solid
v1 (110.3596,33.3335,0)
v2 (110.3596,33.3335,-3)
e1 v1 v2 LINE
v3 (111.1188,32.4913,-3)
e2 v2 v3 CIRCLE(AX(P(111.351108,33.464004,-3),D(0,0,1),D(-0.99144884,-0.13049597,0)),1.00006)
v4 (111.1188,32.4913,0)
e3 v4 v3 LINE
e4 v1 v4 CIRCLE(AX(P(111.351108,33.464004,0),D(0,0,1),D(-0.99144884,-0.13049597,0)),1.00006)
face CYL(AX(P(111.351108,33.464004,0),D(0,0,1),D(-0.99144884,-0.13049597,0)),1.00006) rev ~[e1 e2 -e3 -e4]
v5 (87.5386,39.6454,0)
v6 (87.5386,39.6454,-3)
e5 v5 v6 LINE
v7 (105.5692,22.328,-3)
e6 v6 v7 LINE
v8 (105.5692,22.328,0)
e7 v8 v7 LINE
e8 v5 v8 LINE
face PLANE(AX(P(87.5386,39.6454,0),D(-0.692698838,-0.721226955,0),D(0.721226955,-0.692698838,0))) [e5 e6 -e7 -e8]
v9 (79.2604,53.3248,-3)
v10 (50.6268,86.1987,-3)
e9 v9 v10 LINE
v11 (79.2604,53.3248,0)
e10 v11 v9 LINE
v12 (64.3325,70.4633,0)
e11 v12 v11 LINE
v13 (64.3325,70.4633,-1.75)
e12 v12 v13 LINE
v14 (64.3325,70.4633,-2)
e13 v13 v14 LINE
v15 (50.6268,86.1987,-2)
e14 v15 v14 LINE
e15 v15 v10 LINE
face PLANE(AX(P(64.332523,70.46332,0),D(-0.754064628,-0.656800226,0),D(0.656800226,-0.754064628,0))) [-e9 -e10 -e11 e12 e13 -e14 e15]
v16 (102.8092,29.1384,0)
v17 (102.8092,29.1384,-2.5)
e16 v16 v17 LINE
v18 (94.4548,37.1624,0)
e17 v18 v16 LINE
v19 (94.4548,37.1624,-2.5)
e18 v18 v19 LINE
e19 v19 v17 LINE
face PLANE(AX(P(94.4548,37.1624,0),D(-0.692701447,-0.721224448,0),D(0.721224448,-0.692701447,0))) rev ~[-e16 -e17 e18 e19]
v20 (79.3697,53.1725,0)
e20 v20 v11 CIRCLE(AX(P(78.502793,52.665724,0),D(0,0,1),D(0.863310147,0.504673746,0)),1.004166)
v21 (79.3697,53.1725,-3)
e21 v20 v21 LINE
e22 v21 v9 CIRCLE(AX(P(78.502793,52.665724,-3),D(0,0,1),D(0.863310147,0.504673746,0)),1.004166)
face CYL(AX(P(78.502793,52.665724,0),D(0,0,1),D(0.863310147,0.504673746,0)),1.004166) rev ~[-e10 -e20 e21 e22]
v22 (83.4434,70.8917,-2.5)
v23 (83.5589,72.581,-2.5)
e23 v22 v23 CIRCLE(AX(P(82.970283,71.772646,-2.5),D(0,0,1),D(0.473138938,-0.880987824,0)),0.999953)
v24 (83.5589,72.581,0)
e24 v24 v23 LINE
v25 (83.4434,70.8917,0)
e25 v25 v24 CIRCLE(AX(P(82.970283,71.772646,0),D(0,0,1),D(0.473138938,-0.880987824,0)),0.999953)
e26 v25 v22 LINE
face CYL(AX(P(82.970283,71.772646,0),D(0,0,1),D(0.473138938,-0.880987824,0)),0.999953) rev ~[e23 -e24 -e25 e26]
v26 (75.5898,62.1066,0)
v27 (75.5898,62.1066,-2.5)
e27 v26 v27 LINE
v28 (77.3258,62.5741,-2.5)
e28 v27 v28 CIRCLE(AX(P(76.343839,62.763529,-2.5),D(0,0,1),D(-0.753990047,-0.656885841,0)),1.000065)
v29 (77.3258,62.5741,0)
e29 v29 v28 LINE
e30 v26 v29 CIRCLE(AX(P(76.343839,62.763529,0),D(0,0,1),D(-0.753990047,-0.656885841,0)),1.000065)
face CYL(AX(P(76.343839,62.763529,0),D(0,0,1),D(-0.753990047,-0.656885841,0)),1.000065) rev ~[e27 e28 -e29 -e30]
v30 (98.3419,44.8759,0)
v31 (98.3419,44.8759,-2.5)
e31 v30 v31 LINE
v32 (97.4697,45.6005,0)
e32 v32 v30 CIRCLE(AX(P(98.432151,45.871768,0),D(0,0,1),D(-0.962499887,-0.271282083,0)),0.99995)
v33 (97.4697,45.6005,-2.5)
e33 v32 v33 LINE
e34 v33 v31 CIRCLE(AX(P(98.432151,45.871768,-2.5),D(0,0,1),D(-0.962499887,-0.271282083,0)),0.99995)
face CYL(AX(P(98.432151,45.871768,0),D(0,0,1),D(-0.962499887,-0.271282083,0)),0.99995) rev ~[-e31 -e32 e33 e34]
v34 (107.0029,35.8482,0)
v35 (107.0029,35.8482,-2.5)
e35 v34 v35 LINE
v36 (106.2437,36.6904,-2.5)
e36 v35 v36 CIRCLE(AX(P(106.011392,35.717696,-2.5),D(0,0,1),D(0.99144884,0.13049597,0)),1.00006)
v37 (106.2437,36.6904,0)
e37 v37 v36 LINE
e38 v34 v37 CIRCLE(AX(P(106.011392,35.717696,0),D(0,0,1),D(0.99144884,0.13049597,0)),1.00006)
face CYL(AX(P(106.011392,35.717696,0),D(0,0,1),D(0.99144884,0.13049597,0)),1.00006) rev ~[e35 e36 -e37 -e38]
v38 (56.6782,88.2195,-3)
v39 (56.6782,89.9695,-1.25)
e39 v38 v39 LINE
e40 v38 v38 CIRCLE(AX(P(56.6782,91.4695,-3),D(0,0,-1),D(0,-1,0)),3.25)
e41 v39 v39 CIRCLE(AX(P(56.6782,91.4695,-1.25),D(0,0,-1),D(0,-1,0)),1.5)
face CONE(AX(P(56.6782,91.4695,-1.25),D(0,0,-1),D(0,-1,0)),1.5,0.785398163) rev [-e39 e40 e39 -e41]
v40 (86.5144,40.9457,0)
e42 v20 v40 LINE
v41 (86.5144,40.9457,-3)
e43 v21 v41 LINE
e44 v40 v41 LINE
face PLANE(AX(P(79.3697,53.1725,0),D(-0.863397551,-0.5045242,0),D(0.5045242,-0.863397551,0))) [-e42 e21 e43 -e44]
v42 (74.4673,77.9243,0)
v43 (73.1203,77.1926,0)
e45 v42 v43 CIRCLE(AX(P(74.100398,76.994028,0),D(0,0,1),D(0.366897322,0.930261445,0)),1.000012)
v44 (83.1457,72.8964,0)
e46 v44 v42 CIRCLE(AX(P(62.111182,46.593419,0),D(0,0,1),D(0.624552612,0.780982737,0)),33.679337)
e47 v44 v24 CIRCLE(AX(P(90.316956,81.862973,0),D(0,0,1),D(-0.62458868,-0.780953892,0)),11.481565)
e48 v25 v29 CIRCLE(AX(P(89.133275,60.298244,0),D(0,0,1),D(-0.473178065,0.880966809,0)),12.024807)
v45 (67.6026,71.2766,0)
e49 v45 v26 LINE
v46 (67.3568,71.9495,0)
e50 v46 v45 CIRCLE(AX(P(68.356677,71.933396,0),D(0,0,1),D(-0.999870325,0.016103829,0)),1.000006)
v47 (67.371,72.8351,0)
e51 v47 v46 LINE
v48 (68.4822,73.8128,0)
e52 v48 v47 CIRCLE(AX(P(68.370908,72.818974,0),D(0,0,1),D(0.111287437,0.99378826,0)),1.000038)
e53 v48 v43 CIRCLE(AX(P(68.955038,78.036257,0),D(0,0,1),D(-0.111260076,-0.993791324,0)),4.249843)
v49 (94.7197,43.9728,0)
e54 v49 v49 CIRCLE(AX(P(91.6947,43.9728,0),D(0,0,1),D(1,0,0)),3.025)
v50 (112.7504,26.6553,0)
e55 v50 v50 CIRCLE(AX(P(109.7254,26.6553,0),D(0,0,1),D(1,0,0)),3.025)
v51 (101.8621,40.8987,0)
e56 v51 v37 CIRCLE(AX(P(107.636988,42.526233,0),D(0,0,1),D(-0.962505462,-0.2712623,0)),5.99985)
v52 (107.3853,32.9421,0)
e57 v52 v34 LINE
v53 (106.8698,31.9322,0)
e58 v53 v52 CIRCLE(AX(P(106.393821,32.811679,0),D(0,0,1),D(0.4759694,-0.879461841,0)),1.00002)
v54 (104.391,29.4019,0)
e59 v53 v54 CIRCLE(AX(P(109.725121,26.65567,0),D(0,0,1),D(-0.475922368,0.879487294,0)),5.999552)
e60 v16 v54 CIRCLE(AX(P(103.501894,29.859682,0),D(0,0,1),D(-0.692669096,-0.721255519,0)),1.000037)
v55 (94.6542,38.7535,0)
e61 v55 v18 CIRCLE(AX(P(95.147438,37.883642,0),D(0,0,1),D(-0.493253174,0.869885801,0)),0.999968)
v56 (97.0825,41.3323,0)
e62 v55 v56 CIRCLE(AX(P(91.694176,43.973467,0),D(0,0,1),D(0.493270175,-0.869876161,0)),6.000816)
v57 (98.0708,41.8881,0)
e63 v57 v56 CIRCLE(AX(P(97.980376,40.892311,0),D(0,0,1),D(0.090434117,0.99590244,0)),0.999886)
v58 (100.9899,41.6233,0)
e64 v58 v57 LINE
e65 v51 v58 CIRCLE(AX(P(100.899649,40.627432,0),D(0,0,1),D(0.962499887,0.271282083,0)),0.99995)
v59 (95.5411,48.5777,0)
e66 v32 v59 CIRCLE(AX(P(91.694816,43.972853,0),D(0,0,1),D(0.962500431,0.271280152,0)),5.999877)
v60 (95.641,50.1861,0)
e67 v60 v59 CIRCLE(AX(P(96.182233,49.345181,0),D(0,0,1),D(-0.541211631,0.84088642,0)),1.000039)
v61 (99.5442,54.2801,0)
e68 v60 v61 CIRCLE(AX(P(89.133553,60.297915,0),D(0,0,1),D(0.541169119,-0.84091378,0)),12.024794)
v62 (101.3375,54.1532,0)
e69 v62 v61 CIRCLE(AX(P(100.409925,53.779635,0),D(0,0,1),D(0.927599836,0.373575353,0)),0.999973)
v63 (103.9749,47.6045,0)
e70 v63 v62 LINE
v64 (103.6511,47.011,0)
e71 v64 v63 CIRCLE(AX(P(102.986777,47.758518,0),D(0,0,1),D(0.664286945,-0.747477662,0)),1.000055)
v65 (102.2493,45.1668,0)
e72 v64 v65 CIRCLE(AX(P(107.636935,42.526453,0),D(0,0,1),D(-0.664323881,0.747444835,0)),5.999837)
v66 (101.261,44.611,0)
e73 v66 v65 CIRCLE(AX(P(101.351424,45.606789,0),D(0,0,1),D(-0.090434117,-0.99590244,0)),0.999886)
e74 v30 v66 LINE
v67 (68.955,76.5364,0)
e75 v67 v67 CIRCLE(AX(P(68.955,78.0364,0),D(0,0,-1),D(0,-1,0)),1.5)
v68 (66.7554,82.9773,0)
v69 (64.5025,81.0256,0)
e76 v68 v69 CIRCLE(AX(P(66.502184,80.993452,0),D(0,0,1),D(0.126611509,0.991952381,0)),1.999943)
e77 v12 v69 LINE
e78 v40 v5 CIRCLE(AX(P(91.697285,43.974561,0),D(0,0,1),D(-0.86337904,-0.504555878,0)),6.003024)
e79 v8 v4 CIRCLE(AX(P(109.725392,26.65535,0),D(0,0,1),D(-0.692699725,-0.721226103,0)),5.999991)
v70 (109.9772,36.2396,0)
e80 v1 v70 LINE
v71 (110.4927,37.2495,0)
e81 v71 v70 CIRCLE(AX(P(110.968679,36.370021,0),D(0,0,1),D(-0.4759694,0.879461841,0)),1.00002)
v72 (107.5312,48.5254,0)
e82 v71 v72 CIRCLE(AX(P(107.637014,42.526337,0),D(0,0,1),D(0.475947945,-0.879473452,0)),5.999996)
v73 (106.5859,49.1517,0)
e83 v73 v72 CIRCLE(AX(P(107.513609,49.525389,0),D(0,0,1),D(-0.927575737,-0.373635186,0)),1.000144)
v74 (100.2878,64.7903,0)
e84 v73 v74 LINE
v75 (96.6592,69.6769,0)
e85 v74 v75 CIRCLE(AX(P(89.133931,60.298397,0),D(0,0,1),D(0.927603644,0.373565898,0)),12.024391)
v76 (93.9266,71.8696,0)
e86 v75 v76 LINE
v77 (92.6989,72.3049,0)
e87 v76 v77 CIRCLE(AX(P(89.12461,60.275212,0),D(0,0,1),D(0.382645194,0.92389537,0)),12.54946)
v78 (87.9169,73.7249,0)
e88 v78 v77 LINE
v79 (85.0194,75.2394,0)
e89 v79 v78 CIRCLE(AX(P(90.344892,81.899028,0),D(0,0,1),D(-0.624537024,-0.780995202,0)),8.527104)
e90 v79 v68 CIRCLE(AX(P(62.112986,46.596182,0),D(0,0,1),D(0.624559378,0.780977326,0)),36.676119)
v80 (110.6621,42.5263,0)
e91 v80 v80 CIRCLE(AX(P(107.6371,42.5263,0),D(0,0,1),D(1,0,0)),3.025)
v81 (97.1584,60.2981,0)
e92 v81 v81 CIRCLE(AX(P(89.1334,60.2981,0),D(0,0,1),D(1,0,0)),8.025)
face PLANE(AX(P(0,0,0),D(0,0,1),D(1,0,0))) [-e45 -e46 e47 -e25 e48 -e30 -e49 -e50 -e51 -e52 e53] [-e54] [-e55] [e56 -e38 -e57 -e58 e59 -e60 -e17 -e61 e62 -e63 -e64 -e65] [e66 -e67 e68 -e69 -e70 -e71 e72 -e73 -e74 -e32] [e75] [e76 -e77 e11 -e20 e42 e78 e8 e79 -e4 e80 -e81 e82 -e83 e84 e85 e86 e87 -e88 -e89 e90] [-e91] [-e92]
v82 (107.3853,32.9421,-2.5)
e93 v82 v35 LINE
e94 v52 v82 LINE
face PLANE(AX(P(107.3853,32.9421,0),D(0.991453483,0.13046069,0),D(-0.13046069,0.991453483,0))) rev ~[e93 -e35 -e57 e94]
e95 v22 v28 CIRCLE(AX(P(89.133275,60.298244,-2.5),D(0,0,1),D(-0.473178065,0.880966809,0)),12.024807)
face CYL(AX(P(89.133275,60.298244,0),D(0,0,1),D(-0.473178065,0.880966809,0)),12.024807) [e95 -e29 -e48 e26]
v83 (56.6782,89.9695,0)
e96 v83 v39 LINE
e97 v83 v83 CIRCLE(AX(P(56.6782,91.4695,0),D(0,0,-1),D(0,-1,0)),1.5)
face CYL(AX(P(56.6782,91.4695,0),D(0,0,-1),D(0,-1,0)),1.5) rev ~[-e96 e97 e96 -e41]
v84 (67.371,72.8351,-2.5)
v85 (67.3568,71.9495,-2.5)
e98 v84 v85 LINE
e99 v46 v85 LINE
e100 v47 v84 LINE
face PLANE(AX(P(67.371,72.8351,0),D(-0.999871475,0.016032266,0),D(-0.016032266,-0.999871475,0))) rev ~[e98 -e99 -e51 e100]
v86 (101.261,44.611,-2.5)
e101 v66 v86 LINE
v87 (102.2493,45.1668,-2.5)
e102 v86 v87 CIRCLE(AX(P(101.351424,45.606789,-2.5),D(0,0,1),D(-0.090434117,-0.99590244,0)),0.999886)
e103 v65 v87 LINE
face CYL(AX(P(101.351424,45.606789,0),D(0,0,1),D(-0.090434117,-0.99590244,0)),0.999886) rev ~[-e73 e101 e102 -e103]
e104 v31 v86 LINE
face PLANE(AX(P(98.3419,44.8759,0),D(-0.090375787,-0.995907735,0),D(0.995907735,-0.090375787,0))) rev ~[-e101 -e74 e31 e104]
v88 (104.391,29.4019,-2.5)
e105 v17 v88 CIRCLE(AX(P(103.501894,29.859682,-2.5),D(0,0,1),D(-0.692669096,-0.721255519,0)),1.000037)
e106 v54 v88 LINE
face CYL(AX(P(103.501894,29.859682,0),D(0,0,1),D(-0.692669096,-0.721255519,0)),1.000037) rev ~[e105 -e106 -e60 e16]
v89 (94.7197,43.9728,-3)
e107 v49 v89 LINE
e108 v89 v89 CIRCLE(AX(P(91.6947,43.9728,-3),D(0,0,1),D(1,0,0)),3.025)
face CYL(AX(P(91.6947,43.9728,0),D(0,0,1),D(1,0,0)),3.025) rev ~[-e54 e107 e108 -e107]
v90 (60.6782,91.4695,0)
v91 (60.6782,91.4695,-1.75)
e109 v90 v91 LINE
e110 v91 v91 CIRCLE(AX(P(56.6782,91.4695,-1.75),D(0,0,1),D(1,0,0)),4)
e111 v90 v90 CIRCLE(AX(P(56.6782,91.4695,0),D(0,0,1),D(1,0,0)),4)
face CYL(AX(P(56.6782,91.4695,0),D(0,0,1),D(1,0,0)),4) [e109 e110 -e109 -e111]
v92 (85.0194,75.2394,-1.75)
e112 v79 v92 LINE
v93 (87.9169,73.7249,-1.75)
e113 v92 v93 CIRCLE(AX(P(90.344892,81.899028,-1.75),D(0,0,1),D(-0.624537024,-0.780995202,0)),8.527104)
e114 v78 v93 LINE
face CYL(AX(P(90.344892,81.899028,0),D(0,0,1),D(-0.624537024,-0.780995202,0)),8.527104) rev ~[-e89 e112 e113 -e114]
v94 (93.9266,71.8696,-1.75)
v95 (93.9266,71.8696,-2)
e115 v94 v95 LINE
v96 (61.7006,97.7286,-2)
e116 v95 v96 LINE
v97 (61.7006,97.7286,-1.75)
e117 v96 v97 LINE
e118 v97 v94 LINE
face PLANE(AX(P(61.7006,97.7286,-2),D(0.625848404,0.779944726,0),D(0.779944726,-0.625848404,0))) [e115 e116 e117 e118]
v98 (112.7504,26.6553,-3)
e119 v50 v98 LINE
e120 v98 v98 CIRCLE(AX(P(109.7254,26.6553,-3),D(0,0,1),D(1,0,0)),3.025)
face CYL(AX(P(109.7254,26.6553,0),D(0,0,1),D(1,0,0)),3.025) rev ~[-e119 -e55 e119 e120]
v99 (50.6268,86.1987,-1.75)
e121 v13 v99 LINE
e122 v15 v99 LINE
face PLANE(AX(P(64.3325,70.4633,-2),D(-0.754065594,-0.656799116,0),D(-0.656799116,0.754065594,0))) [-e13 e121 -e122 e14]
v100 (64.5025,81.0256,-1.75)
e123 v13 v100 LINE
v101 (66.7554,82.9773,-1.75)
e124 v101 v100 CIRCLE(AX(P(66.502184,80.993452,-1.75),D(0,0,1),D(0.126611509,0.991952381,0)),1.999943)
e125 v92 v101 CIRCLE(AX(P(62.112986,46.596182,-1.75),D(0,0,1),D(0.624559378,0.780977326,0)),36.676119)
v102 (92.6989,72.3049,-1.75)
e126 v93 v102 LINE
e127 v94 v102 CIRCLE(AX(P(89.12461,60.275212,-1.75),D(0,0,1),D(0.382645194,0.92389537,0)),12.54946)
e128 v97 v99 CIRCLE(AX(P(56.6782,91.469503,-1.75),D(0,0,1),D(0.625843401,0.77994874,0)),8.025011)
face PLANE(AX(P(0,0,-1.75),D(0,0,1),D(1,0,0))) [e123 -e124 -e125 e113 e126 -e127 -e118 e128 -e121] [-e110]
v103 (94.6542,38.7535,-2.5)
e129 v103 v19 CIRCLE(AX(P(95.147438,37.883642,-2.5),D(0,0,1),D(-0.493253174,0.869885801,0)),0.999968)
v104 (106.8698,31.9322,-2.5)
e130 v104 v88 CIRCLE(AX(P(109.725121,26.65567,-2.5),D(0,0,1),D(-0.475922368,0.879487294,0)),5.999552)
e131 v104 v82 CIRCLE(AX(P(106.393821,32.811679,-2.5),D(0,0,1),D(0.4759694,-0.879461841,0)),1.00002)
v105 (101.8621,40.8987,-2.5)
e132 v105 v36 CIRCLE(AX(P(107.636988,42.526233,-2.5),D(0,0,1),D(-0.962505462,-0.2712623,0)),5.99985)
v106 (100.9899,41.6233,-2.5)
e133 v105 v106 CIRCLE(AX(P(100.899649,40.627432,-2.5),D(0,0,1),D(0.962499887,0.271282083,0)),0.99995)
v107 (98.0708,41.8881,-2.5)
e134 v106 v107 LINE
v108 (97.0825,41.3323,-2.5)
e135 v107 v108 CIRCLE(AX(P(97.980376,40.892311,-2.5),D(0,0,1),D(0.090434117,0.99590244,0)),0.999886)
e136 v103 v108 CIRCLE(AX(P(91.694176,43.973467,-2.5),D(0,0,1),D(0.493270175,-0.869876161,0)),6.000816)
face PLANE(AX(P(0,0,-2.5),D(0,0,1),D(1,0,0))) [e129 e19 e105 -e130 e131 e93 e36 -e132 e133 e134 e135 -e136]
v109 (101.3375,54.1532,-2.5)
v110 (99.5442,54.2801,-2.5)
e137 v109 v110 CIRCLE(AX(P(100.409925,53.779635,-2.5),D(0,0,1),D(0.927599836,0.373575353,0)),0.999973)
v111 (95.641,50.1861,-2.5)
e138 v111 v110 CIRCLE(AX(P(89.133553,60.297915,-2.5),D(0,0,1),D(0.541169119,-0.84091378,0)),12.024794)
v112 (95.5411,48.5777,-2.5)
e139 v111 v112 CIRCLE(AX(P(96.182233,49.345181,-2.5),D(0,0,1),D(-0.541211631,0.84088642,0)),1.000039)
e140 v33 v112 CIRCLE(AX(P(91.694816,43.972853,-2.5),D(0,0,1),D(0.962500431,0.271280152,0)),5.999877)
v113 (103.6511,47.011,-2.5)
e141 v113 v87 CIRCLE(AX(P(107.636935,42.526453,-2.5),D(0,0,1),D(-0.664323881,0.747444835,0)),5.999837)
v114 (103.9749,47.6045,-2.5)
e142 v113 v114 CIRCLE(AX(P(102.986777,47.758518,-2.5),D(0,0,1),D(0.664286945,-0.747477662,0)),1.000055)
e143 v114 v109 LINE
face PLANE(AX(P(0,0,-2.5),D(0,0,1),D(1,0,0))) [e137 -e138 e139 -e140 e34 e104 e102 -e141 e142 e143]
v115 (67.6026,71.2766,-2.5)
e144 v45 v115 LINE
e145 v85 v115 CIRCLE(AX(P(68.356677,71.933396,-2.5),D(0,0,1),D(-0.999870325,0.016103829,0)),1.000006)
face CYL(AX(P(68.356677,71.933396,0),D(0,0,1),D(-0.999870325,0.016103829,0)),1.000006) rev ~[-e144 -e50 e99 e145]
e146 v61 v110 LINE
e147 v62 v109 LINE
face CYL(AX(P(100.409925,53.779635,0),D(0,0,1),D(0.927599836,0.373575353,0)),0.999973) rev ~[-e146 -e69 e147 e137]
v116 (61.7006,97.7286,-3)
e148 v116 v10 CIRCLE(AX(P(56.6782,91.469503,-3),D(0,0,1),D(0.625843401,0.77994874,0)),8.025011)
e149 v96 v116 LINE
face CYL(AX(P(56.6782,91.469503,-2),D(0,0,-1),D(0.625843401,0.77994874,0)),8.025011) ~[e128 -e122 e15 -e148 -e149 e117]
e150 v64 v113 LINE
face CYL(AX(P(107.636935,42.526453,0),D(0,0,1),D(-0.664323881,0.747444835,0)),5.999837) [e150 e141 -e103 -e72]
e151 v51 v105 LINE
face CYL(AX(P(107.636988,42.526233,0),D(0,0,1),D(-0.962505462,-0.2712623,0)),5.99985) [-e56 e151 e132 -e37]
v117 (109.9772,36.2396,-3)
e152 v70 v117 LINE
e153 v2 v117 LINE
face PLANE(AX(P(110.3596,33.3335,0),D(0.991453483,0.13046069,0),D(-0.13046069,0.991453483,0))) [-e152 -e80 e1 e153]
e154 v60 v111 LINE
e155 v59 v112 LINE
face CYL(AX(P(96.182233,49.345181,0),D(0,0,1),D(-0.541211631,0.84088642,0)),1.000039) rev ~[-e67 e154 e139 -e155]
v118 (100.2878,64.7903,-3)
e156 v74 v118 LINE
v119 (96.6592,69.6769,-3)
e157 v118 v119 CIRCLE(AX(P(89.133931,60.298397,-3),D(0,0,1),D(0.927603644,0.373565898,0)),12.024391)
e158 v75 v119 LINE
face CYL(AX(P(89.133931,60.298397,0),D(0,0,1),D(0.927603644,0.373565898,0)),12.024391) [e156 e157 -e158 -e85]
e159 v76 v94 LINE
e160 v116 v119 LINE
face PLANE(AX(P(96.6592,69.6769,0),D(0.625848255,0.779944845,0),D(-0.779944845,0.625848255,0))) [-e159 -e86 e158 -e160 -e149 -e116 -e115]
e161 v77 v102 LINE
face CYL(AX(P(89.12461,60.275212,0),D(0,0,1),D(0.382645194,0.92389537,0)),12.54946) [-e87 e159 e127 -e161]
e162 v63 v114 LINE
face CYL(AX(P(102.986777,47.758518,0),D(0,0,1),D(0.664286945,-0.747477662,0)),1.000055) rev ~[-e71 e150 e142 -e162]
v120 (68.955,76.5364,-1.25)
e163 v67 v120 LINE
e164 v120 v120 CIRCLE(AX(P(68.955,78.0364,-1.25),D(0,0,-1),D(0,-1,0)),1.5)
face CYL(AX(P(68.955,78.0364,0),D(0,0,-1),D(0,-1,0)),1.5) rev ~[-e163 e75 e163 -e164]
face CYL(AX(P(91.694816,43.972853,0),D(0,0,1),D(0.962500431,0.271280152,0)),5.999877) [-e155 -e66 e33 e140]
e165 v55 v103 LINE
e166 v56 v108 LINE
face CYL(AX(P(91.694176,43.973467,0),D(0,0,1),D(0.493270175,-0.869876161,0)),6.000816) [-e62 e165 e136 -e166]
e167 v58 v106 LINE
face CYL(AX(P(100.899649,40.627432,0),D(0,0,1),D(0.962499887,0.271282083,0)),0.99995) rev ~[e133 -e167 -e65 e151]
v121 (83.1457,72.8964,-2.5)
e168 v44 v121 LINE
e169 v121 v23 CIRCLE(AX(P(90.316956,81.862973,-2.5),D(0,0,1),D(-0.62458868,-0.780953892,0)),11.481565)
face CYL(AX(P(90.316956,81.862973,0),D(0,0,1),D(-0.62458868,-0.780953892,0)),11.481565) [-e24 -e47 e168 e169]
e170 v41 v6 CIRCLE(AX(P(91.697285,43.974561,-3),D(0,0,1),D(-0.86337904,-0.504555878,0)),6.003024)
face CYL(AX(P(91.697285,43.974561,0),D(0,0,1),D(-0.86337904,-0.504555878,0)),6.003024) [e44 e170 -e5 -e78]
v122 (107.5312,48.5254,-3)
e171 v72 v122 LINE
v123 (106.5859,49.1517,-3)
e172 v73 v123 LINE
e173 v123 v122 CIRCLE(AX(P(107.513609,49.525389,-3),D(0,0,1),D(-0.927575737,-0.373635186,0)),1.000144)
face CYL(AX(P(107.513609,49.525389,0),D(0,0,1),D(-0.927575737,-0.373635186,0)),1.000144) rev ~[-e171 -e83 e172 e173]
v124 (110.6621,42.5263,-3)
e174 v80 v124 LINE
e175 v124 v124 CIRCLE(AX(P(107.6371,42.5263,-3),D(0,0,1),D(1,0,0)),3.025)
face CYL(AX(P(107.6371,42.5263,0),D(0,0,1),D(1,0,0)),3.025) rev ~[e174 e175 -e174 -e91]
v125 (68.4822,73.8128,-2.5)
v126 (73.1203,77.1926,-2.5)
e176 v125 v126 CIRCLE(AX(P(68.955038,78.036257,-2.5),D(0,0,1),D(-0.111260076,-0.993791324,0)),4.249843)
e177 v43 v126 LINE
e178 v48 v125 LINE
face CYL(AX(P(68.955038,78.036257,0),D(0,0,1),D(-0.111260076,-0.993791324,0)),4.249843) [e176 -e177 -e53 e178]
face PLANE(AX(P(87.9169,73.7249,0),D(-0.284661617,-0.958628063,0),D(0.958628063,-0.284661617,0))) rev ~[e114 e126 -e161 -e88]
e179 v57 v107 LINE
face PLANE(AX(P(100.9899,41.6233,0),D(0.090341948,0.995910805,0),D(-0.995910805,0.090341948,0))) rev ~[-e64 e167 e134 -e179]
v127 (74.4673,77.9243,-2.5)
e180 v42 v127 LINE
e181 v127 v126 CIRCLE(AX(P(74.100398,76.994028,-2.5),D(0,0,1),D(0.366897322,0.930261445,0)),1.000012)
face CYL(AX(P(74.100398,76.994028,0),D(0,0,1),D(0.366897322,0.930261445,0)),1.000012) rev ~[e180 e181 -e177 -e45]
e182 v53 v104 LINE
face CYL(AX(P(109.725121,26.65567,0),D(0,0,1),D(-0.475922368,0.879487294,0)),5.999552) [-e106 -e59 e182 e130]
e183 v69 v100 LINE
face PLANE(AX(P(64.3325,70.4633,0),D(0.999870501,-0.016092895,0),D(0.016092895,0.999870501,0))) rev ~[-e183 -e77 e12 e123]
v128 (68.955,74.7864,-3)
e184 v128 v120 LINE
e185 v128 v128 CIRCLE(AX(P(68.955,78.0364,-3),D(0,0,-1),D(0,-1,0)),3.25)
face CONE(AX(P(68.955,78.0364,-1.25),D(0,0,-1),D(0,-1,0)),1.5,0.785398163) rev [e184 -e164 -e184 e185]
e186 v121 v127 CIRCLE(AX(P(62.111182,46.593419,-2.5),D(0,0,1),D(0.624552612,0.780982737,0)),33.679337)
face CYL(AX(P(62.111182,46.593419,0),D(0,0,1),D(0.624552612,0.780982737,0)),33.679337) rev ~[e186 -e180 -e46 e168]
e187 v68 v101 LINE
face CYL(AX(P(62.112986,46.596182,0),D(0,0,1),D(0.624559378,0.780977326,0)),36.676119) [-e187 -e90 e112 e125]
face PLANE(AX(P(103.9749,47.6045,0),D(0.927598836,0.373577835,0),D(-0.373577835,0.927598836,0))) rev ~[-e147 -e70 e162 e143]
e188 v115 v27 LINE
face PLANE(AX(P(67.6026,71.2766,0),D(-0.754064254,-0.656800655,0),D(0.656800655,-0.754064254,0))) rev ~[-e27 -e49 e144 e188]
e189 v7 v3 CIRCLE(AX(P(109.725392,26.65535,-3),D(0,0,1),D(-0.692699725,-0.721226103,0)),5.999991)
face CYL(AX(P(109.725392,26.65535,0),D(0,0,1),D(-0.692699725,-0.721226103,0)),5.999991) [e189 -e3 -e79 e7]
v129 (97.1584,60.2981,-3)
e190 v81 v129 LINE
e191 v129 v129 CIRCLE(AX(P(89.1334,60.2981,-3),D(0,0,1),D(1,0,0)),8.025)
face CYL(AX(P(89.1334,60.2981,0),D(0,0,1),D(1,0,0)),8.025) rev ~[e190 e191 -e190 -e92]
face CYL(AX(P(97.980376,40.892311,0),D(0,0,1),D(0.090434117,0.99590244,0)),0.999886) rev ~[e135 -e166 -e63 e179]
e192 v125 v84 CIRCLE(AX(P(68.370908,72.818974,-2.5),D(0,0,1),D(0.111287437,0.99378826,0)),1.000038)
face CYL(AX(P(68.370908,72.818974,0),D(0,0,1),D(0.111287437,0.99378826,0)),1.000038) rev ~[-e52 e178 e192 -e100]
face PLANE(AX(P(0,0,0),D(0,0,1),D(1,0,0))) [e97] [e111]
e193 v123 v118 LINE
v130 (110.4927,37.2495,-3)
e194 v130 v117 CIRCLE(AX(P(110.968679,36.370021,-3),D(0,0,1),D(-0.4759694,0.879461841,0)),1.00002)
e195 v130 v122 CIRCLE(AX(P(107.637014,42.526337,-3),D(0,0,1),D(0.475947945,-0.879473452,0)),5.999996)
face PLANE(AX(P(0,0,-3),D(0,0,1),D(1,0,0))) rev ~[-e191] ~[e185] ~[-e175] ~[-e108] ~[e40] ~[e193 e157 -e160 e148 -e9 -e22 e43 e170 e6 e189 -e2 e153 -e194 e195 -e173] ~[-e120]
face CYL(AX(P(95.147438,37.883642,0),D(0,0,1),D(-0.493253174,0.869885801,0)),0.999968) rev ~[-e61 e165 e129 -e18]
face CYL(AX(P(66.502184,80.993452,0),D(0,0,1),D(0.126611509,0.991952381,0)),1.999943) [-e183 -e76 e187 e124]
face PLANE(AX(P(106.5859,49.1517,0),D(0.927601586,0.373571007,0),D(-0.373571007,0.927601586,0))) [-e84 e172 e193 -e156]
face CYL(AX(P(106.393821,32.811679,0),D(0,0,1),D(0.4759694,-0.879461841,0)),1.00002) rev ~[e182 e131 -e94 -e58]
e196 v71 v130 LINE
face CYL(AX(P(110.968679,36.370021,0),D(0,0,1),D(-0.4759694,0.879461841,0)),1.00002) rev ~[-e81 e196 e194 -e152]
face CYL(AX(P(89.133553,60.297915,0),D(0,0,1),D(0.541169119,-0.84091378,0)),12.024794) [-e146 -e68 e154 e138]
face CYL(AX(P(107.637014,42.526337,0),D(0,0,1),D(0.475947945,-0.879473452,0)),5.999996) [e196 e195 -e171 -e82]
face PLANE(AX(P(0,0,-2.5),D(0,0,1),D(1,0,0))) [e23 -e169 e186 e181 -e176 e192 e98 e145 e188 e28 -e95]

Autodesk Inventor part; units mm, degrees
ref_plane "YZ Plane" through (0, 0, 0) normal (1, 0, 0) x (0, 1, 0)
ref_plane "XZ Plane" through (0, 0, 0) normal (0, 1, 0) x (-1, 0, 0)
ref_plane "XY Plane" through (0, 0, 0) normal (0, 0, 1) x (1, 0, 0)
sketch "スケッチ1" plane through (0, 0, 0) normal (0, 0, 1) x (1, 0, 0)
  circle A0 centre (89.1334, 60.2981) radius 8.025
  arc A1 (110.4927, 37.2495) -> (107.5312, 48.5254) centre (107.6371, 42.5263) ccw
  arc A2 (106.5859, 49.1517) -> (107.5312, 48.5254) centre (107.5135, 49.5253) ccw
  line L0 (106.5859, 49.1517) -> (100.2878, 64.7903)
  arc A3 (100.2878, 64.7903) -> (96.6592, 69.6769) centre (89.1334, 60.2981) ccw
  line L1 (96.6592, 69.6769) -> (61.7006, 97.7286)
  arc A4 (61.7006, 97.7286) -> (50.6268, 86.1987) centre (56.6782, 91.4695) ccw
  line L2 (50.6268, 86.1987) -> (79.2604, 53.3248)
  arc A5 (79.3697, 53.1725) -> (79.2604, 53.3248) centre (78.5063, 52.668) ccw
  line L3 (79.3697, 53.1725) -> (86.5144, 40.9457)
  arc A6 (86.5144, 40.9457) -> (87.5386, 39.6454) centre (91.6947, 43.9728) ccw
  line L4 (87.5386, 39.6454) -> (105.5692, 22.328)
  arc A7 (105.5692, 22.328) -> (111.1188, 32.4913) centre (109.7254, 26.6553) ccw
  arc A8 (110.3596, 33.3335) -> (111.1188, 32.4913) centre (111.3511, 33.464) ccw
  line L5 (110.3596, 33.3335) -> (109.9772, 36.2396)
  arc A9 (110.4927, 37.2495) -> (109.9772, 36.2396) centre (110.9687, 36.37) ccw
  circle A10 centre (68.955, 78.0364) radius 1.25
  circle A11 centre (109.7254, 26.6553) radius 3.025
  circle A12 centre (107.6371, 42.5263) radius 3.025
  circle A13 centre (91.6947, 43.9728) radius 3.025
  circle A14 centre (56.6782, 91.4695) radius 1.25
  arc A15 (83.1457, 72.8964) -> (83.5589, 72.581) centre (90.3437, 81.8972) ccw
  arc A16 (83.1457, 72.8964) -> (74.4673, 77.9243) centre (62.1124, 46.5952) ccw
  arc A17 (74.4673, 77.9243) -> (73.1203, 77.1926) centre (74.1004, 76.994) ccw
  arc A18 (68.4822, 73.8128) -> (73.1203, 77.1926) centre (68.955, 78.0364) ccw
  arc A19 (68.4822, 73.8128) -> (67.371, 72.8351) centre (68.3709, 72.819) ccw
  line L6 (67.371, 72.8351) -> (67.3568, 71.9495)
  arc A20 (67.3568, 71.9495) -> (67.6026, 71.2766) centre (68.3567, 71.9334) ccw
  line L7 (67.6026, 71.2766) -> (75.5898, 62.1066)
  arc A21 (75.5898, 62.1066) -> (77.3258, 62.5741) centre (76.3438, 62.7634) ccw
  arc A22 (83.4434, 70.8917) -> (77.3258, 62.5741) centre (89.1334, 60.2981) ccw
  arc A23 (83.4434, 70.8917) -> (83.5589, 72.581) centre (82.9702, 71.7727) ccw
  arc A24 (97.4697, 45.6005) -> (95.5411, 48.5777) centre (91.6947, 43.9728) ccw
  arc A25 (97.4697, 45.6005) -> (98.3419, 44.8759) centre (98.4322, 45.8718) ccw
  line L8 (98.3419, 44.8759) -> (101.261, 44.611)
  arc A26 (101.261, 44.611) -> (102.2493, 45.1668) centre (101.3514, 45.6069) ccw
  arc A27 (103.6511, 47.011) -> (102.2493, 45.1668) centre (107.6371, 42.5263) ccw
  arc A28 (103.6511, 47.011) -> (103.9749, 47.6045) centre (102.9868, 47.7585) ccw
  line L9 (103.9749, 47.6045) -> (101.3375, 54.1532)
  arc A29 (101.3375, 54.1532) -> (99.5442, 54.2801) centre (100.4099, 53.7796) ccw
  arc A30 (95.641, 50.1861) -> (99.5442, 54.2801) centre (89.1334, 60.2981) ccw
  arc A31 (95.641, 50.1861) -> (95.5411, 48.5777) centre (96.1822, 49.3452) ccw
  circle A32 centre (89.1334, 60.2981) radius 8.025
  arc A33 (110.4927, 37.2495) -> (107.5312, 48.5254) centre (107.6371, 42.5263) ccw
  arc A34 (110.4927, 37.2495) -> (109.9772, 36.2396) centre (110.9687, 36.37) ccw
  line L10 (109.9772, 36.2396) -> (110.3596, 33.3335)
  arc A35 (110.3596, 33.3335) -> (111.1188, 32.4913) centre (111.3511, 33.464) ccw
  arc A36 (105.5692, 22.328) -> (111.1188, 32.4913) centre (109.7254, 26.6553) ccw
  line L11 (105.5692, 22.328) -> (87.5386, 39.6454)
  arc A37 (86.5144, 40.9457) -> (87.5386, 39.6454) centre (91.6947, 43.9728) ccw
  line L12 (86.5144, 40.9457) -> (79.3697, 53.1725)
  arc A38 (79.3697, 53.1725) -> (79.2604, 53.3248) centre (78.5063, 52.668) ccw
  line L13 (79.2604, 53.3248) -> (64.3325, 70.4633)
  line L14 (64.3325, 70.4633) -> (64.5025, 81.0256)
  arc A39 (66.7554, 82.9773) -> (64.5025, 81.0256) centre (66.5022, 80.9934) ccw
  arc A40 (85.0194, 75.2394) -> (66.7554, 82.9773) centre (62.1124, 46.5952) ccw
  arc A41 (85.0194, 75.2394) -> (87.9169, 73.7249) centre (90.3437, 81.8972) ccw
  line L15 (87.9169, 73.7249) -> (92.6989, 72.3049)
  arc A42 (93.9266, 71.8696) -> (92.6989, 72.3049) centre (89.1334, 60.2981) ccw
  line L16 (93.9266, 71.8696) -> (96.6592, 69.6769)
  arc A43 (100.2878, 64.7903) -> (96.6592, 69.6769) centre (89.1334, 60.2981) ccw
  line L17 (100.2878, 64.7903) -> (106.5859, 49.1517)
  arc A44 (106.5859, 49.1517) -> (107.5312, 48.5254) centre (107.5135, 49.5253) ccw
  line L18 (107.3853, 32.9421) -> (107.0029, 35.8482)
  arc A45 (107.0029, 35.8482) -> (106.2437, 36.6904) centre (106.0114, 35.7177) ccw
  arc A46 (101.8621, 40.8987) -> (106.2437, 36.6904) centre (107.6371, 42.5263) ccw
  arc A47 (101.8621, 40.8987) -> (100.9899, 41.6233) centre (100.8996, 40.6274) ccw
  line L19 (100.9899, 41.6233) -> (98.0708, 41.8881)
  arc A48 (98.0708, 41.8881) -> (97.0825, 41.3323) centre (97.9804, 40.8922) ccw
  arc A49 (94.6542, 38.7535) -> (97.0825, 41.3323) centre (91.6947, 43.9728) ccw
  arc A50 (94.6542, 38.7535) -> (94.4548, 37.1624) centre (95.1475, 37.8836) ccw
  line L20 (94.4548, 37.1624) -> (102.8092, 29.1384)
  arc A51 (102.8092, 29.1384) -> (104.391, 29.4019) centre (103.5019, 29.8597) ccw
  arc A52 (106.8698, 31.9322) -> (104.391, 29.4019) centre (109.7254, 26.6553) ccw
  arc A53 (106.8698, 31.9322) -> (107.3853, 32.9421) centre (106.3938, 32.8117) ccw
  circle A54 centre (107.6371, 42.5263) radius 3.025
  circle A55 centre (68.955, 78.0364) radius 1.25
  circle A56 centre (91.6947, 43.9728) radius 3.025
  circle A57 centre (109.7254, 26.6553) radius 3.025
  line L21 (61.7006, 97.7286) -> (93.9266, 71.8696)
  arc A58 (93.9266, 71.8696) -> (92.6989, 72.3049) centre (89.1334, 60.2981) ccw
  line L22 (87.9169, 73.7249) -> (92.6989, 72.3049)
  arc A59 (85.0194, 75.2394) -> (87.9169, 73.7249) centre (90.3437, 81.8972) ccw
  arc A60 (85.0194, 75.2394) -> (66.7554, 82.9773) centre (62.1124, 46.5952) ccw
  arc A61 (66.7554, 82.9773) -> (64.5025, 81.0256) centre (66.5022, 80.9934) ccw
  line L23 (64.3325, 70.4633) -> (64.5025, 81.0256)
  line L24 (64.3325, 70.4633) -> (50.6268, 86.1987)
  arc A62 (61.7006, 97.7286) -> (50.6268, 86.1987) centre (56.6782, 91.4695) ccw
  circle A63 centre (56.6782, 91.4695) radius 4
  point P0 (0, 0)
  point P1 (0, 0)
extrude "押し出し1" add sketch "スケッチ1" against normal blind 3 contours A9 L5 A8 A7 L4 A6 L3 A5 L2 L14 A39 A40 A41 L15 A42 L1 A3 L0 A2 A1 | A42 L15 A41 A40 A39 L14 L2 A4 L1 | A15 A23 A22 A21 L7 A20 L6 A19 A18 A17 A16 | A24 A31 A30 A29 L9 A28 A27 A26 L8 A25 | A53 A52 A51 L20 A50 A49 A48 L19 A47 A46 A45 L18 | A63
extrude "押し出し2" cut sketch "スケッチ1" against normal blind 2 contours A42 L15 A41 A40 A39 L14 L2 A4 L1
extrude "押し出し3" cut sketch "スケッチ1" against normal blind 2.5 contours A15 A23 A22 A21 L7 A20 L6 A19 A18 A17 A16 | A24 A31 A30 A29 L9 A28 A27 A26 L8 A25 | A53 A52 A51 L20 A50 A49 A48 L19 A47 A46 A45 L18
hole "穴1" at (68.955, 78.0364, 0) at (56.6782, 91.4695, 0) direction (0, 0, -1) diameter 3 depth 12 tip angle 118
sketch "スケッチ2" plane through (0, 0, -2) normal (0, 0, 1) x (1, 0, 0)
  circle A0 centre (68.955, 78.0364) radius 1.5 projected
  circle A1 centre (56.6782, 91.4695) radius 1.5 projected
  arc A2 (94.6542, 38.7535) -> (94.4548, 37.1624) centre (95.1475, 37.8836) ccw projected
  line L0 (94.4548, 37.1624) -> (102.8092, 29.1384) projected
  arc A3 (102.8092, 29.1384) -> (104.391, 29.4019) centre (103.5019, 29.8597) ccw projected
  arc A4 (106.8698, 31.9322) -> (104.391, 29.4019) centre (109.7254, 26.6553) ccw projected
  arc A5 (106.8698, 31.9322) -> (107.3853, 32.9421) centre (106.3938, 32.8117) ccw projected
  line L1 (107.3853, 32.9421) -> (107.0029, 35.8482) projected
  arc A6 (107.0029, 35.8482) -> (106.2437, 36.6904) centre (106.0114, 35.7177) ccw projected
  arc A7 (101.8621, 40.8987) -> (106.2437, 36.6904) centre (107.6371, 42.5263) ccw projected
  arc A8 (101.8621, 40.8987) -> (100.9899, 41.6233) centre (100.8996, 40.6274) ccw projected
  line L2 (100.9899, 41.6233) -> (98.0708, 41.8881) projected
  arc A9 (98.0708, 41.8881) -> (97.0825, 41.3323) centre (97.9804, 40.8922) ccw projected
  arc A10 (94.6542, 38.7535) -> (97.0825, 41.3323) centre (91.6947, 43.9728) ccw projected
  arc A11 (95.641, 50.1861) -> (95.5411, 48.5777) centre (96.1822, 49.3452) ccw projected
  arc A12 (97.4697, 45.6005) -> (95.5411, 48.5777) centre (91.6947, 43.9728) ccw projected
  arc A13 (97.4697, 45.6005) -> (98.3419, 44.8759) centre (98.4322, 45.8718) ccw projected
  line L3 (98.3419, 44.8759) -> (101.261, 44.611) projected
  arc A14 (101.261, 44.611) -> (102.2493, 45.1668) centre (101.3514, 45.6069) ccw projected
  arc A15 (103.6511, 47.011) -> (102.2493, 45.1668) centre (107.6371, 42.5263) ccw projected
  arc A16 (103.6511, 47.011) -> (103.9749, 47.6045) centre (102.9868, 47.7585) ccw projected
  line L4 (103.9749, 47.6045) -> (101.3375, 54.1532) projected
  arc A17 (101.3375, 54.1532) -> (99.5442, 54.2801) centre (100.4099, 53.7796) ccw projected
  arc A18 (95.641, 50.1861) -> (99.5442, 54.2801) centre (89.1334, 60.2981) ccw projected
  line L5 (67.371, 72.8351) -> (67.3568, 71.9495) projected
  arc A19 (67.3568, 71.9495) -> (67.6026, 71.2766) centre (68.3567, 71.9334) ccw projected
  line L6 (67.6026, 71.2766) -> (75.5898, 62.1066) projected
  arc A20 (75.5898, 62.1066) -> (77.3258, 62.5741) centre (76.3438, 62.7634) ccw projected
  arc A21 (83.4434, 70.8917) -> (77.3258, 62.5741) centre (89.1334, 60.2981) ccw projected
  arc A22 (83.4434, 70.8917) -> (83.5589, 72.581) centre (82.9702, 71.7727) ccw projected
  arc A23 (83.1457, 72.8964) -> (83.5589, 72.581) centre (90.3437, 81.8972) ccw projected
  arc A24 (83.1457, 72.8964) -> (74.4673, 77.9243) centre (62.1124, 46.5952) ccw projected
  arc A25 (74.4673, 77.9243) -> (73.1203, 77.1926) centre (74.1004, 76.994) ccw projected
  arc A26 (68.4822, 73.8128) -> (73.1203, 77.1926) centre (68.955, 78.0364) ccw projected
  arc A27 (68.4822, 73.8128) -> (67.371, 72.8351) centre (68.3709, 72.819) ccw projected
  circle A28 centre (56.6782, 91.4695) radius 4 projected
  line L7 (64.3325, 70.4633) -> (64.5025, 81.0256) projected
  arc A29 (66.7554, 82.9773) -> (64.5025, 81.0256) centre (66.5022, 80.9934) ccw projected
  arc A30 (85.0194, 75.2394) -> (66.7554, 82.9773) centre (62.1124, 46.5952) ccw projected
  arc A31 (85.0194, 75.2394) -> (87.9169, 73.7249) centre (90.3437, 81.8972) ccw projected
  line L8 (87.9169, 73.7249) -> (92.6989, 72.3049) projected
  arc A32 (93.9266, 71.8696) -> (92.6989, 72.3049) centre (89.1334, 60.2981) ccw projected
  line L9 (61.7006, 97.7286) -> (93.9266, 71.8696) projected
  arc A33 (61.7006, 97.7286) -> (50.6268, 86.1987) centre (56.6782, 91.4695) ccw projected
  line L10 (64.3325, 70.4633) -> (50.6268, 86.1987) projected
  line L11 (79.2604, 53.3248) -> (64.3325, 70.4633) projected
  arc A34 (79.3697, 53.1725) -> (79.2604, 53.3248) centre (78.5063, 52.668) ccw projected
  line L12 (86.5144, 40.9457) -> (79.3697, 53.1725) projected
  arc A35 (86.5144, 40.9457) -> (87.5386, 39.6454) centre (91.6947, 43.9728) ccw projected
  line L13 (105.5692, 22.328) -> (87.5386, 39.6454) projected
  arc A36 (105.5692, 22.328) -> (111.1188, 32.4913) centre (109.7254, 26.6553) ccw projected
  arc A37 (110.3596, 33.3335) -> (111.1188, 32.4913) centre (111.3511, 33.464) ccw projected
  line L14 (109.9772, 36.2396) -> (110.3596, 33.3335) projected
  arc A38 (110.4927, 37.2495) -> (109.9772, 36.2396) centre (110.9687, 36.37) ccw projected
  arc A39 (110.4927, 37.2495) -> (107.5312, 48.5254) centre (107.6371, 42.5263) ccw projected
  arc A40 (106.5859, 49.1517) -> (107.5312, 48.5254) centre (107.5135, 49.5253) ccw projected
  line L15 (100.2878, 64.7903) -> (106.5859, 49.1517) projected
  arc A41 (100.2878, 64.7903) -> (96.6592, 69.6769) centre (89.1334, 60.2981) ccw projected
  line L16 (93.9266, 71.8696) -> (96.6592, 69.6769) projected
  circle A42 centre (89.1334, 60.2981) radius 8.025 projected
  circle A43 centre (109.7254, 26.6553) radius 3.025 projected
  circle A44 centre (107.6371, 42.5263) radius 3.025 projected
  circle A45 centre (91.6947, 43.9728) radius 3.025 projected
  point P0 (0, 0)
extrude "押し出し4" add sketch "スケッチ2" along normal blind 0.25 contours L10 A33 L9 A32 L8 A31 A30 A29 L7
chamfer "面取り1" distance 1.75 angle 45 2 edges at (68.955, 79.5364, -3) (56.6782, 92.9695, -3)
properties part number "アーム 中間節(ミラー)" material "アルミニウム 7075"
